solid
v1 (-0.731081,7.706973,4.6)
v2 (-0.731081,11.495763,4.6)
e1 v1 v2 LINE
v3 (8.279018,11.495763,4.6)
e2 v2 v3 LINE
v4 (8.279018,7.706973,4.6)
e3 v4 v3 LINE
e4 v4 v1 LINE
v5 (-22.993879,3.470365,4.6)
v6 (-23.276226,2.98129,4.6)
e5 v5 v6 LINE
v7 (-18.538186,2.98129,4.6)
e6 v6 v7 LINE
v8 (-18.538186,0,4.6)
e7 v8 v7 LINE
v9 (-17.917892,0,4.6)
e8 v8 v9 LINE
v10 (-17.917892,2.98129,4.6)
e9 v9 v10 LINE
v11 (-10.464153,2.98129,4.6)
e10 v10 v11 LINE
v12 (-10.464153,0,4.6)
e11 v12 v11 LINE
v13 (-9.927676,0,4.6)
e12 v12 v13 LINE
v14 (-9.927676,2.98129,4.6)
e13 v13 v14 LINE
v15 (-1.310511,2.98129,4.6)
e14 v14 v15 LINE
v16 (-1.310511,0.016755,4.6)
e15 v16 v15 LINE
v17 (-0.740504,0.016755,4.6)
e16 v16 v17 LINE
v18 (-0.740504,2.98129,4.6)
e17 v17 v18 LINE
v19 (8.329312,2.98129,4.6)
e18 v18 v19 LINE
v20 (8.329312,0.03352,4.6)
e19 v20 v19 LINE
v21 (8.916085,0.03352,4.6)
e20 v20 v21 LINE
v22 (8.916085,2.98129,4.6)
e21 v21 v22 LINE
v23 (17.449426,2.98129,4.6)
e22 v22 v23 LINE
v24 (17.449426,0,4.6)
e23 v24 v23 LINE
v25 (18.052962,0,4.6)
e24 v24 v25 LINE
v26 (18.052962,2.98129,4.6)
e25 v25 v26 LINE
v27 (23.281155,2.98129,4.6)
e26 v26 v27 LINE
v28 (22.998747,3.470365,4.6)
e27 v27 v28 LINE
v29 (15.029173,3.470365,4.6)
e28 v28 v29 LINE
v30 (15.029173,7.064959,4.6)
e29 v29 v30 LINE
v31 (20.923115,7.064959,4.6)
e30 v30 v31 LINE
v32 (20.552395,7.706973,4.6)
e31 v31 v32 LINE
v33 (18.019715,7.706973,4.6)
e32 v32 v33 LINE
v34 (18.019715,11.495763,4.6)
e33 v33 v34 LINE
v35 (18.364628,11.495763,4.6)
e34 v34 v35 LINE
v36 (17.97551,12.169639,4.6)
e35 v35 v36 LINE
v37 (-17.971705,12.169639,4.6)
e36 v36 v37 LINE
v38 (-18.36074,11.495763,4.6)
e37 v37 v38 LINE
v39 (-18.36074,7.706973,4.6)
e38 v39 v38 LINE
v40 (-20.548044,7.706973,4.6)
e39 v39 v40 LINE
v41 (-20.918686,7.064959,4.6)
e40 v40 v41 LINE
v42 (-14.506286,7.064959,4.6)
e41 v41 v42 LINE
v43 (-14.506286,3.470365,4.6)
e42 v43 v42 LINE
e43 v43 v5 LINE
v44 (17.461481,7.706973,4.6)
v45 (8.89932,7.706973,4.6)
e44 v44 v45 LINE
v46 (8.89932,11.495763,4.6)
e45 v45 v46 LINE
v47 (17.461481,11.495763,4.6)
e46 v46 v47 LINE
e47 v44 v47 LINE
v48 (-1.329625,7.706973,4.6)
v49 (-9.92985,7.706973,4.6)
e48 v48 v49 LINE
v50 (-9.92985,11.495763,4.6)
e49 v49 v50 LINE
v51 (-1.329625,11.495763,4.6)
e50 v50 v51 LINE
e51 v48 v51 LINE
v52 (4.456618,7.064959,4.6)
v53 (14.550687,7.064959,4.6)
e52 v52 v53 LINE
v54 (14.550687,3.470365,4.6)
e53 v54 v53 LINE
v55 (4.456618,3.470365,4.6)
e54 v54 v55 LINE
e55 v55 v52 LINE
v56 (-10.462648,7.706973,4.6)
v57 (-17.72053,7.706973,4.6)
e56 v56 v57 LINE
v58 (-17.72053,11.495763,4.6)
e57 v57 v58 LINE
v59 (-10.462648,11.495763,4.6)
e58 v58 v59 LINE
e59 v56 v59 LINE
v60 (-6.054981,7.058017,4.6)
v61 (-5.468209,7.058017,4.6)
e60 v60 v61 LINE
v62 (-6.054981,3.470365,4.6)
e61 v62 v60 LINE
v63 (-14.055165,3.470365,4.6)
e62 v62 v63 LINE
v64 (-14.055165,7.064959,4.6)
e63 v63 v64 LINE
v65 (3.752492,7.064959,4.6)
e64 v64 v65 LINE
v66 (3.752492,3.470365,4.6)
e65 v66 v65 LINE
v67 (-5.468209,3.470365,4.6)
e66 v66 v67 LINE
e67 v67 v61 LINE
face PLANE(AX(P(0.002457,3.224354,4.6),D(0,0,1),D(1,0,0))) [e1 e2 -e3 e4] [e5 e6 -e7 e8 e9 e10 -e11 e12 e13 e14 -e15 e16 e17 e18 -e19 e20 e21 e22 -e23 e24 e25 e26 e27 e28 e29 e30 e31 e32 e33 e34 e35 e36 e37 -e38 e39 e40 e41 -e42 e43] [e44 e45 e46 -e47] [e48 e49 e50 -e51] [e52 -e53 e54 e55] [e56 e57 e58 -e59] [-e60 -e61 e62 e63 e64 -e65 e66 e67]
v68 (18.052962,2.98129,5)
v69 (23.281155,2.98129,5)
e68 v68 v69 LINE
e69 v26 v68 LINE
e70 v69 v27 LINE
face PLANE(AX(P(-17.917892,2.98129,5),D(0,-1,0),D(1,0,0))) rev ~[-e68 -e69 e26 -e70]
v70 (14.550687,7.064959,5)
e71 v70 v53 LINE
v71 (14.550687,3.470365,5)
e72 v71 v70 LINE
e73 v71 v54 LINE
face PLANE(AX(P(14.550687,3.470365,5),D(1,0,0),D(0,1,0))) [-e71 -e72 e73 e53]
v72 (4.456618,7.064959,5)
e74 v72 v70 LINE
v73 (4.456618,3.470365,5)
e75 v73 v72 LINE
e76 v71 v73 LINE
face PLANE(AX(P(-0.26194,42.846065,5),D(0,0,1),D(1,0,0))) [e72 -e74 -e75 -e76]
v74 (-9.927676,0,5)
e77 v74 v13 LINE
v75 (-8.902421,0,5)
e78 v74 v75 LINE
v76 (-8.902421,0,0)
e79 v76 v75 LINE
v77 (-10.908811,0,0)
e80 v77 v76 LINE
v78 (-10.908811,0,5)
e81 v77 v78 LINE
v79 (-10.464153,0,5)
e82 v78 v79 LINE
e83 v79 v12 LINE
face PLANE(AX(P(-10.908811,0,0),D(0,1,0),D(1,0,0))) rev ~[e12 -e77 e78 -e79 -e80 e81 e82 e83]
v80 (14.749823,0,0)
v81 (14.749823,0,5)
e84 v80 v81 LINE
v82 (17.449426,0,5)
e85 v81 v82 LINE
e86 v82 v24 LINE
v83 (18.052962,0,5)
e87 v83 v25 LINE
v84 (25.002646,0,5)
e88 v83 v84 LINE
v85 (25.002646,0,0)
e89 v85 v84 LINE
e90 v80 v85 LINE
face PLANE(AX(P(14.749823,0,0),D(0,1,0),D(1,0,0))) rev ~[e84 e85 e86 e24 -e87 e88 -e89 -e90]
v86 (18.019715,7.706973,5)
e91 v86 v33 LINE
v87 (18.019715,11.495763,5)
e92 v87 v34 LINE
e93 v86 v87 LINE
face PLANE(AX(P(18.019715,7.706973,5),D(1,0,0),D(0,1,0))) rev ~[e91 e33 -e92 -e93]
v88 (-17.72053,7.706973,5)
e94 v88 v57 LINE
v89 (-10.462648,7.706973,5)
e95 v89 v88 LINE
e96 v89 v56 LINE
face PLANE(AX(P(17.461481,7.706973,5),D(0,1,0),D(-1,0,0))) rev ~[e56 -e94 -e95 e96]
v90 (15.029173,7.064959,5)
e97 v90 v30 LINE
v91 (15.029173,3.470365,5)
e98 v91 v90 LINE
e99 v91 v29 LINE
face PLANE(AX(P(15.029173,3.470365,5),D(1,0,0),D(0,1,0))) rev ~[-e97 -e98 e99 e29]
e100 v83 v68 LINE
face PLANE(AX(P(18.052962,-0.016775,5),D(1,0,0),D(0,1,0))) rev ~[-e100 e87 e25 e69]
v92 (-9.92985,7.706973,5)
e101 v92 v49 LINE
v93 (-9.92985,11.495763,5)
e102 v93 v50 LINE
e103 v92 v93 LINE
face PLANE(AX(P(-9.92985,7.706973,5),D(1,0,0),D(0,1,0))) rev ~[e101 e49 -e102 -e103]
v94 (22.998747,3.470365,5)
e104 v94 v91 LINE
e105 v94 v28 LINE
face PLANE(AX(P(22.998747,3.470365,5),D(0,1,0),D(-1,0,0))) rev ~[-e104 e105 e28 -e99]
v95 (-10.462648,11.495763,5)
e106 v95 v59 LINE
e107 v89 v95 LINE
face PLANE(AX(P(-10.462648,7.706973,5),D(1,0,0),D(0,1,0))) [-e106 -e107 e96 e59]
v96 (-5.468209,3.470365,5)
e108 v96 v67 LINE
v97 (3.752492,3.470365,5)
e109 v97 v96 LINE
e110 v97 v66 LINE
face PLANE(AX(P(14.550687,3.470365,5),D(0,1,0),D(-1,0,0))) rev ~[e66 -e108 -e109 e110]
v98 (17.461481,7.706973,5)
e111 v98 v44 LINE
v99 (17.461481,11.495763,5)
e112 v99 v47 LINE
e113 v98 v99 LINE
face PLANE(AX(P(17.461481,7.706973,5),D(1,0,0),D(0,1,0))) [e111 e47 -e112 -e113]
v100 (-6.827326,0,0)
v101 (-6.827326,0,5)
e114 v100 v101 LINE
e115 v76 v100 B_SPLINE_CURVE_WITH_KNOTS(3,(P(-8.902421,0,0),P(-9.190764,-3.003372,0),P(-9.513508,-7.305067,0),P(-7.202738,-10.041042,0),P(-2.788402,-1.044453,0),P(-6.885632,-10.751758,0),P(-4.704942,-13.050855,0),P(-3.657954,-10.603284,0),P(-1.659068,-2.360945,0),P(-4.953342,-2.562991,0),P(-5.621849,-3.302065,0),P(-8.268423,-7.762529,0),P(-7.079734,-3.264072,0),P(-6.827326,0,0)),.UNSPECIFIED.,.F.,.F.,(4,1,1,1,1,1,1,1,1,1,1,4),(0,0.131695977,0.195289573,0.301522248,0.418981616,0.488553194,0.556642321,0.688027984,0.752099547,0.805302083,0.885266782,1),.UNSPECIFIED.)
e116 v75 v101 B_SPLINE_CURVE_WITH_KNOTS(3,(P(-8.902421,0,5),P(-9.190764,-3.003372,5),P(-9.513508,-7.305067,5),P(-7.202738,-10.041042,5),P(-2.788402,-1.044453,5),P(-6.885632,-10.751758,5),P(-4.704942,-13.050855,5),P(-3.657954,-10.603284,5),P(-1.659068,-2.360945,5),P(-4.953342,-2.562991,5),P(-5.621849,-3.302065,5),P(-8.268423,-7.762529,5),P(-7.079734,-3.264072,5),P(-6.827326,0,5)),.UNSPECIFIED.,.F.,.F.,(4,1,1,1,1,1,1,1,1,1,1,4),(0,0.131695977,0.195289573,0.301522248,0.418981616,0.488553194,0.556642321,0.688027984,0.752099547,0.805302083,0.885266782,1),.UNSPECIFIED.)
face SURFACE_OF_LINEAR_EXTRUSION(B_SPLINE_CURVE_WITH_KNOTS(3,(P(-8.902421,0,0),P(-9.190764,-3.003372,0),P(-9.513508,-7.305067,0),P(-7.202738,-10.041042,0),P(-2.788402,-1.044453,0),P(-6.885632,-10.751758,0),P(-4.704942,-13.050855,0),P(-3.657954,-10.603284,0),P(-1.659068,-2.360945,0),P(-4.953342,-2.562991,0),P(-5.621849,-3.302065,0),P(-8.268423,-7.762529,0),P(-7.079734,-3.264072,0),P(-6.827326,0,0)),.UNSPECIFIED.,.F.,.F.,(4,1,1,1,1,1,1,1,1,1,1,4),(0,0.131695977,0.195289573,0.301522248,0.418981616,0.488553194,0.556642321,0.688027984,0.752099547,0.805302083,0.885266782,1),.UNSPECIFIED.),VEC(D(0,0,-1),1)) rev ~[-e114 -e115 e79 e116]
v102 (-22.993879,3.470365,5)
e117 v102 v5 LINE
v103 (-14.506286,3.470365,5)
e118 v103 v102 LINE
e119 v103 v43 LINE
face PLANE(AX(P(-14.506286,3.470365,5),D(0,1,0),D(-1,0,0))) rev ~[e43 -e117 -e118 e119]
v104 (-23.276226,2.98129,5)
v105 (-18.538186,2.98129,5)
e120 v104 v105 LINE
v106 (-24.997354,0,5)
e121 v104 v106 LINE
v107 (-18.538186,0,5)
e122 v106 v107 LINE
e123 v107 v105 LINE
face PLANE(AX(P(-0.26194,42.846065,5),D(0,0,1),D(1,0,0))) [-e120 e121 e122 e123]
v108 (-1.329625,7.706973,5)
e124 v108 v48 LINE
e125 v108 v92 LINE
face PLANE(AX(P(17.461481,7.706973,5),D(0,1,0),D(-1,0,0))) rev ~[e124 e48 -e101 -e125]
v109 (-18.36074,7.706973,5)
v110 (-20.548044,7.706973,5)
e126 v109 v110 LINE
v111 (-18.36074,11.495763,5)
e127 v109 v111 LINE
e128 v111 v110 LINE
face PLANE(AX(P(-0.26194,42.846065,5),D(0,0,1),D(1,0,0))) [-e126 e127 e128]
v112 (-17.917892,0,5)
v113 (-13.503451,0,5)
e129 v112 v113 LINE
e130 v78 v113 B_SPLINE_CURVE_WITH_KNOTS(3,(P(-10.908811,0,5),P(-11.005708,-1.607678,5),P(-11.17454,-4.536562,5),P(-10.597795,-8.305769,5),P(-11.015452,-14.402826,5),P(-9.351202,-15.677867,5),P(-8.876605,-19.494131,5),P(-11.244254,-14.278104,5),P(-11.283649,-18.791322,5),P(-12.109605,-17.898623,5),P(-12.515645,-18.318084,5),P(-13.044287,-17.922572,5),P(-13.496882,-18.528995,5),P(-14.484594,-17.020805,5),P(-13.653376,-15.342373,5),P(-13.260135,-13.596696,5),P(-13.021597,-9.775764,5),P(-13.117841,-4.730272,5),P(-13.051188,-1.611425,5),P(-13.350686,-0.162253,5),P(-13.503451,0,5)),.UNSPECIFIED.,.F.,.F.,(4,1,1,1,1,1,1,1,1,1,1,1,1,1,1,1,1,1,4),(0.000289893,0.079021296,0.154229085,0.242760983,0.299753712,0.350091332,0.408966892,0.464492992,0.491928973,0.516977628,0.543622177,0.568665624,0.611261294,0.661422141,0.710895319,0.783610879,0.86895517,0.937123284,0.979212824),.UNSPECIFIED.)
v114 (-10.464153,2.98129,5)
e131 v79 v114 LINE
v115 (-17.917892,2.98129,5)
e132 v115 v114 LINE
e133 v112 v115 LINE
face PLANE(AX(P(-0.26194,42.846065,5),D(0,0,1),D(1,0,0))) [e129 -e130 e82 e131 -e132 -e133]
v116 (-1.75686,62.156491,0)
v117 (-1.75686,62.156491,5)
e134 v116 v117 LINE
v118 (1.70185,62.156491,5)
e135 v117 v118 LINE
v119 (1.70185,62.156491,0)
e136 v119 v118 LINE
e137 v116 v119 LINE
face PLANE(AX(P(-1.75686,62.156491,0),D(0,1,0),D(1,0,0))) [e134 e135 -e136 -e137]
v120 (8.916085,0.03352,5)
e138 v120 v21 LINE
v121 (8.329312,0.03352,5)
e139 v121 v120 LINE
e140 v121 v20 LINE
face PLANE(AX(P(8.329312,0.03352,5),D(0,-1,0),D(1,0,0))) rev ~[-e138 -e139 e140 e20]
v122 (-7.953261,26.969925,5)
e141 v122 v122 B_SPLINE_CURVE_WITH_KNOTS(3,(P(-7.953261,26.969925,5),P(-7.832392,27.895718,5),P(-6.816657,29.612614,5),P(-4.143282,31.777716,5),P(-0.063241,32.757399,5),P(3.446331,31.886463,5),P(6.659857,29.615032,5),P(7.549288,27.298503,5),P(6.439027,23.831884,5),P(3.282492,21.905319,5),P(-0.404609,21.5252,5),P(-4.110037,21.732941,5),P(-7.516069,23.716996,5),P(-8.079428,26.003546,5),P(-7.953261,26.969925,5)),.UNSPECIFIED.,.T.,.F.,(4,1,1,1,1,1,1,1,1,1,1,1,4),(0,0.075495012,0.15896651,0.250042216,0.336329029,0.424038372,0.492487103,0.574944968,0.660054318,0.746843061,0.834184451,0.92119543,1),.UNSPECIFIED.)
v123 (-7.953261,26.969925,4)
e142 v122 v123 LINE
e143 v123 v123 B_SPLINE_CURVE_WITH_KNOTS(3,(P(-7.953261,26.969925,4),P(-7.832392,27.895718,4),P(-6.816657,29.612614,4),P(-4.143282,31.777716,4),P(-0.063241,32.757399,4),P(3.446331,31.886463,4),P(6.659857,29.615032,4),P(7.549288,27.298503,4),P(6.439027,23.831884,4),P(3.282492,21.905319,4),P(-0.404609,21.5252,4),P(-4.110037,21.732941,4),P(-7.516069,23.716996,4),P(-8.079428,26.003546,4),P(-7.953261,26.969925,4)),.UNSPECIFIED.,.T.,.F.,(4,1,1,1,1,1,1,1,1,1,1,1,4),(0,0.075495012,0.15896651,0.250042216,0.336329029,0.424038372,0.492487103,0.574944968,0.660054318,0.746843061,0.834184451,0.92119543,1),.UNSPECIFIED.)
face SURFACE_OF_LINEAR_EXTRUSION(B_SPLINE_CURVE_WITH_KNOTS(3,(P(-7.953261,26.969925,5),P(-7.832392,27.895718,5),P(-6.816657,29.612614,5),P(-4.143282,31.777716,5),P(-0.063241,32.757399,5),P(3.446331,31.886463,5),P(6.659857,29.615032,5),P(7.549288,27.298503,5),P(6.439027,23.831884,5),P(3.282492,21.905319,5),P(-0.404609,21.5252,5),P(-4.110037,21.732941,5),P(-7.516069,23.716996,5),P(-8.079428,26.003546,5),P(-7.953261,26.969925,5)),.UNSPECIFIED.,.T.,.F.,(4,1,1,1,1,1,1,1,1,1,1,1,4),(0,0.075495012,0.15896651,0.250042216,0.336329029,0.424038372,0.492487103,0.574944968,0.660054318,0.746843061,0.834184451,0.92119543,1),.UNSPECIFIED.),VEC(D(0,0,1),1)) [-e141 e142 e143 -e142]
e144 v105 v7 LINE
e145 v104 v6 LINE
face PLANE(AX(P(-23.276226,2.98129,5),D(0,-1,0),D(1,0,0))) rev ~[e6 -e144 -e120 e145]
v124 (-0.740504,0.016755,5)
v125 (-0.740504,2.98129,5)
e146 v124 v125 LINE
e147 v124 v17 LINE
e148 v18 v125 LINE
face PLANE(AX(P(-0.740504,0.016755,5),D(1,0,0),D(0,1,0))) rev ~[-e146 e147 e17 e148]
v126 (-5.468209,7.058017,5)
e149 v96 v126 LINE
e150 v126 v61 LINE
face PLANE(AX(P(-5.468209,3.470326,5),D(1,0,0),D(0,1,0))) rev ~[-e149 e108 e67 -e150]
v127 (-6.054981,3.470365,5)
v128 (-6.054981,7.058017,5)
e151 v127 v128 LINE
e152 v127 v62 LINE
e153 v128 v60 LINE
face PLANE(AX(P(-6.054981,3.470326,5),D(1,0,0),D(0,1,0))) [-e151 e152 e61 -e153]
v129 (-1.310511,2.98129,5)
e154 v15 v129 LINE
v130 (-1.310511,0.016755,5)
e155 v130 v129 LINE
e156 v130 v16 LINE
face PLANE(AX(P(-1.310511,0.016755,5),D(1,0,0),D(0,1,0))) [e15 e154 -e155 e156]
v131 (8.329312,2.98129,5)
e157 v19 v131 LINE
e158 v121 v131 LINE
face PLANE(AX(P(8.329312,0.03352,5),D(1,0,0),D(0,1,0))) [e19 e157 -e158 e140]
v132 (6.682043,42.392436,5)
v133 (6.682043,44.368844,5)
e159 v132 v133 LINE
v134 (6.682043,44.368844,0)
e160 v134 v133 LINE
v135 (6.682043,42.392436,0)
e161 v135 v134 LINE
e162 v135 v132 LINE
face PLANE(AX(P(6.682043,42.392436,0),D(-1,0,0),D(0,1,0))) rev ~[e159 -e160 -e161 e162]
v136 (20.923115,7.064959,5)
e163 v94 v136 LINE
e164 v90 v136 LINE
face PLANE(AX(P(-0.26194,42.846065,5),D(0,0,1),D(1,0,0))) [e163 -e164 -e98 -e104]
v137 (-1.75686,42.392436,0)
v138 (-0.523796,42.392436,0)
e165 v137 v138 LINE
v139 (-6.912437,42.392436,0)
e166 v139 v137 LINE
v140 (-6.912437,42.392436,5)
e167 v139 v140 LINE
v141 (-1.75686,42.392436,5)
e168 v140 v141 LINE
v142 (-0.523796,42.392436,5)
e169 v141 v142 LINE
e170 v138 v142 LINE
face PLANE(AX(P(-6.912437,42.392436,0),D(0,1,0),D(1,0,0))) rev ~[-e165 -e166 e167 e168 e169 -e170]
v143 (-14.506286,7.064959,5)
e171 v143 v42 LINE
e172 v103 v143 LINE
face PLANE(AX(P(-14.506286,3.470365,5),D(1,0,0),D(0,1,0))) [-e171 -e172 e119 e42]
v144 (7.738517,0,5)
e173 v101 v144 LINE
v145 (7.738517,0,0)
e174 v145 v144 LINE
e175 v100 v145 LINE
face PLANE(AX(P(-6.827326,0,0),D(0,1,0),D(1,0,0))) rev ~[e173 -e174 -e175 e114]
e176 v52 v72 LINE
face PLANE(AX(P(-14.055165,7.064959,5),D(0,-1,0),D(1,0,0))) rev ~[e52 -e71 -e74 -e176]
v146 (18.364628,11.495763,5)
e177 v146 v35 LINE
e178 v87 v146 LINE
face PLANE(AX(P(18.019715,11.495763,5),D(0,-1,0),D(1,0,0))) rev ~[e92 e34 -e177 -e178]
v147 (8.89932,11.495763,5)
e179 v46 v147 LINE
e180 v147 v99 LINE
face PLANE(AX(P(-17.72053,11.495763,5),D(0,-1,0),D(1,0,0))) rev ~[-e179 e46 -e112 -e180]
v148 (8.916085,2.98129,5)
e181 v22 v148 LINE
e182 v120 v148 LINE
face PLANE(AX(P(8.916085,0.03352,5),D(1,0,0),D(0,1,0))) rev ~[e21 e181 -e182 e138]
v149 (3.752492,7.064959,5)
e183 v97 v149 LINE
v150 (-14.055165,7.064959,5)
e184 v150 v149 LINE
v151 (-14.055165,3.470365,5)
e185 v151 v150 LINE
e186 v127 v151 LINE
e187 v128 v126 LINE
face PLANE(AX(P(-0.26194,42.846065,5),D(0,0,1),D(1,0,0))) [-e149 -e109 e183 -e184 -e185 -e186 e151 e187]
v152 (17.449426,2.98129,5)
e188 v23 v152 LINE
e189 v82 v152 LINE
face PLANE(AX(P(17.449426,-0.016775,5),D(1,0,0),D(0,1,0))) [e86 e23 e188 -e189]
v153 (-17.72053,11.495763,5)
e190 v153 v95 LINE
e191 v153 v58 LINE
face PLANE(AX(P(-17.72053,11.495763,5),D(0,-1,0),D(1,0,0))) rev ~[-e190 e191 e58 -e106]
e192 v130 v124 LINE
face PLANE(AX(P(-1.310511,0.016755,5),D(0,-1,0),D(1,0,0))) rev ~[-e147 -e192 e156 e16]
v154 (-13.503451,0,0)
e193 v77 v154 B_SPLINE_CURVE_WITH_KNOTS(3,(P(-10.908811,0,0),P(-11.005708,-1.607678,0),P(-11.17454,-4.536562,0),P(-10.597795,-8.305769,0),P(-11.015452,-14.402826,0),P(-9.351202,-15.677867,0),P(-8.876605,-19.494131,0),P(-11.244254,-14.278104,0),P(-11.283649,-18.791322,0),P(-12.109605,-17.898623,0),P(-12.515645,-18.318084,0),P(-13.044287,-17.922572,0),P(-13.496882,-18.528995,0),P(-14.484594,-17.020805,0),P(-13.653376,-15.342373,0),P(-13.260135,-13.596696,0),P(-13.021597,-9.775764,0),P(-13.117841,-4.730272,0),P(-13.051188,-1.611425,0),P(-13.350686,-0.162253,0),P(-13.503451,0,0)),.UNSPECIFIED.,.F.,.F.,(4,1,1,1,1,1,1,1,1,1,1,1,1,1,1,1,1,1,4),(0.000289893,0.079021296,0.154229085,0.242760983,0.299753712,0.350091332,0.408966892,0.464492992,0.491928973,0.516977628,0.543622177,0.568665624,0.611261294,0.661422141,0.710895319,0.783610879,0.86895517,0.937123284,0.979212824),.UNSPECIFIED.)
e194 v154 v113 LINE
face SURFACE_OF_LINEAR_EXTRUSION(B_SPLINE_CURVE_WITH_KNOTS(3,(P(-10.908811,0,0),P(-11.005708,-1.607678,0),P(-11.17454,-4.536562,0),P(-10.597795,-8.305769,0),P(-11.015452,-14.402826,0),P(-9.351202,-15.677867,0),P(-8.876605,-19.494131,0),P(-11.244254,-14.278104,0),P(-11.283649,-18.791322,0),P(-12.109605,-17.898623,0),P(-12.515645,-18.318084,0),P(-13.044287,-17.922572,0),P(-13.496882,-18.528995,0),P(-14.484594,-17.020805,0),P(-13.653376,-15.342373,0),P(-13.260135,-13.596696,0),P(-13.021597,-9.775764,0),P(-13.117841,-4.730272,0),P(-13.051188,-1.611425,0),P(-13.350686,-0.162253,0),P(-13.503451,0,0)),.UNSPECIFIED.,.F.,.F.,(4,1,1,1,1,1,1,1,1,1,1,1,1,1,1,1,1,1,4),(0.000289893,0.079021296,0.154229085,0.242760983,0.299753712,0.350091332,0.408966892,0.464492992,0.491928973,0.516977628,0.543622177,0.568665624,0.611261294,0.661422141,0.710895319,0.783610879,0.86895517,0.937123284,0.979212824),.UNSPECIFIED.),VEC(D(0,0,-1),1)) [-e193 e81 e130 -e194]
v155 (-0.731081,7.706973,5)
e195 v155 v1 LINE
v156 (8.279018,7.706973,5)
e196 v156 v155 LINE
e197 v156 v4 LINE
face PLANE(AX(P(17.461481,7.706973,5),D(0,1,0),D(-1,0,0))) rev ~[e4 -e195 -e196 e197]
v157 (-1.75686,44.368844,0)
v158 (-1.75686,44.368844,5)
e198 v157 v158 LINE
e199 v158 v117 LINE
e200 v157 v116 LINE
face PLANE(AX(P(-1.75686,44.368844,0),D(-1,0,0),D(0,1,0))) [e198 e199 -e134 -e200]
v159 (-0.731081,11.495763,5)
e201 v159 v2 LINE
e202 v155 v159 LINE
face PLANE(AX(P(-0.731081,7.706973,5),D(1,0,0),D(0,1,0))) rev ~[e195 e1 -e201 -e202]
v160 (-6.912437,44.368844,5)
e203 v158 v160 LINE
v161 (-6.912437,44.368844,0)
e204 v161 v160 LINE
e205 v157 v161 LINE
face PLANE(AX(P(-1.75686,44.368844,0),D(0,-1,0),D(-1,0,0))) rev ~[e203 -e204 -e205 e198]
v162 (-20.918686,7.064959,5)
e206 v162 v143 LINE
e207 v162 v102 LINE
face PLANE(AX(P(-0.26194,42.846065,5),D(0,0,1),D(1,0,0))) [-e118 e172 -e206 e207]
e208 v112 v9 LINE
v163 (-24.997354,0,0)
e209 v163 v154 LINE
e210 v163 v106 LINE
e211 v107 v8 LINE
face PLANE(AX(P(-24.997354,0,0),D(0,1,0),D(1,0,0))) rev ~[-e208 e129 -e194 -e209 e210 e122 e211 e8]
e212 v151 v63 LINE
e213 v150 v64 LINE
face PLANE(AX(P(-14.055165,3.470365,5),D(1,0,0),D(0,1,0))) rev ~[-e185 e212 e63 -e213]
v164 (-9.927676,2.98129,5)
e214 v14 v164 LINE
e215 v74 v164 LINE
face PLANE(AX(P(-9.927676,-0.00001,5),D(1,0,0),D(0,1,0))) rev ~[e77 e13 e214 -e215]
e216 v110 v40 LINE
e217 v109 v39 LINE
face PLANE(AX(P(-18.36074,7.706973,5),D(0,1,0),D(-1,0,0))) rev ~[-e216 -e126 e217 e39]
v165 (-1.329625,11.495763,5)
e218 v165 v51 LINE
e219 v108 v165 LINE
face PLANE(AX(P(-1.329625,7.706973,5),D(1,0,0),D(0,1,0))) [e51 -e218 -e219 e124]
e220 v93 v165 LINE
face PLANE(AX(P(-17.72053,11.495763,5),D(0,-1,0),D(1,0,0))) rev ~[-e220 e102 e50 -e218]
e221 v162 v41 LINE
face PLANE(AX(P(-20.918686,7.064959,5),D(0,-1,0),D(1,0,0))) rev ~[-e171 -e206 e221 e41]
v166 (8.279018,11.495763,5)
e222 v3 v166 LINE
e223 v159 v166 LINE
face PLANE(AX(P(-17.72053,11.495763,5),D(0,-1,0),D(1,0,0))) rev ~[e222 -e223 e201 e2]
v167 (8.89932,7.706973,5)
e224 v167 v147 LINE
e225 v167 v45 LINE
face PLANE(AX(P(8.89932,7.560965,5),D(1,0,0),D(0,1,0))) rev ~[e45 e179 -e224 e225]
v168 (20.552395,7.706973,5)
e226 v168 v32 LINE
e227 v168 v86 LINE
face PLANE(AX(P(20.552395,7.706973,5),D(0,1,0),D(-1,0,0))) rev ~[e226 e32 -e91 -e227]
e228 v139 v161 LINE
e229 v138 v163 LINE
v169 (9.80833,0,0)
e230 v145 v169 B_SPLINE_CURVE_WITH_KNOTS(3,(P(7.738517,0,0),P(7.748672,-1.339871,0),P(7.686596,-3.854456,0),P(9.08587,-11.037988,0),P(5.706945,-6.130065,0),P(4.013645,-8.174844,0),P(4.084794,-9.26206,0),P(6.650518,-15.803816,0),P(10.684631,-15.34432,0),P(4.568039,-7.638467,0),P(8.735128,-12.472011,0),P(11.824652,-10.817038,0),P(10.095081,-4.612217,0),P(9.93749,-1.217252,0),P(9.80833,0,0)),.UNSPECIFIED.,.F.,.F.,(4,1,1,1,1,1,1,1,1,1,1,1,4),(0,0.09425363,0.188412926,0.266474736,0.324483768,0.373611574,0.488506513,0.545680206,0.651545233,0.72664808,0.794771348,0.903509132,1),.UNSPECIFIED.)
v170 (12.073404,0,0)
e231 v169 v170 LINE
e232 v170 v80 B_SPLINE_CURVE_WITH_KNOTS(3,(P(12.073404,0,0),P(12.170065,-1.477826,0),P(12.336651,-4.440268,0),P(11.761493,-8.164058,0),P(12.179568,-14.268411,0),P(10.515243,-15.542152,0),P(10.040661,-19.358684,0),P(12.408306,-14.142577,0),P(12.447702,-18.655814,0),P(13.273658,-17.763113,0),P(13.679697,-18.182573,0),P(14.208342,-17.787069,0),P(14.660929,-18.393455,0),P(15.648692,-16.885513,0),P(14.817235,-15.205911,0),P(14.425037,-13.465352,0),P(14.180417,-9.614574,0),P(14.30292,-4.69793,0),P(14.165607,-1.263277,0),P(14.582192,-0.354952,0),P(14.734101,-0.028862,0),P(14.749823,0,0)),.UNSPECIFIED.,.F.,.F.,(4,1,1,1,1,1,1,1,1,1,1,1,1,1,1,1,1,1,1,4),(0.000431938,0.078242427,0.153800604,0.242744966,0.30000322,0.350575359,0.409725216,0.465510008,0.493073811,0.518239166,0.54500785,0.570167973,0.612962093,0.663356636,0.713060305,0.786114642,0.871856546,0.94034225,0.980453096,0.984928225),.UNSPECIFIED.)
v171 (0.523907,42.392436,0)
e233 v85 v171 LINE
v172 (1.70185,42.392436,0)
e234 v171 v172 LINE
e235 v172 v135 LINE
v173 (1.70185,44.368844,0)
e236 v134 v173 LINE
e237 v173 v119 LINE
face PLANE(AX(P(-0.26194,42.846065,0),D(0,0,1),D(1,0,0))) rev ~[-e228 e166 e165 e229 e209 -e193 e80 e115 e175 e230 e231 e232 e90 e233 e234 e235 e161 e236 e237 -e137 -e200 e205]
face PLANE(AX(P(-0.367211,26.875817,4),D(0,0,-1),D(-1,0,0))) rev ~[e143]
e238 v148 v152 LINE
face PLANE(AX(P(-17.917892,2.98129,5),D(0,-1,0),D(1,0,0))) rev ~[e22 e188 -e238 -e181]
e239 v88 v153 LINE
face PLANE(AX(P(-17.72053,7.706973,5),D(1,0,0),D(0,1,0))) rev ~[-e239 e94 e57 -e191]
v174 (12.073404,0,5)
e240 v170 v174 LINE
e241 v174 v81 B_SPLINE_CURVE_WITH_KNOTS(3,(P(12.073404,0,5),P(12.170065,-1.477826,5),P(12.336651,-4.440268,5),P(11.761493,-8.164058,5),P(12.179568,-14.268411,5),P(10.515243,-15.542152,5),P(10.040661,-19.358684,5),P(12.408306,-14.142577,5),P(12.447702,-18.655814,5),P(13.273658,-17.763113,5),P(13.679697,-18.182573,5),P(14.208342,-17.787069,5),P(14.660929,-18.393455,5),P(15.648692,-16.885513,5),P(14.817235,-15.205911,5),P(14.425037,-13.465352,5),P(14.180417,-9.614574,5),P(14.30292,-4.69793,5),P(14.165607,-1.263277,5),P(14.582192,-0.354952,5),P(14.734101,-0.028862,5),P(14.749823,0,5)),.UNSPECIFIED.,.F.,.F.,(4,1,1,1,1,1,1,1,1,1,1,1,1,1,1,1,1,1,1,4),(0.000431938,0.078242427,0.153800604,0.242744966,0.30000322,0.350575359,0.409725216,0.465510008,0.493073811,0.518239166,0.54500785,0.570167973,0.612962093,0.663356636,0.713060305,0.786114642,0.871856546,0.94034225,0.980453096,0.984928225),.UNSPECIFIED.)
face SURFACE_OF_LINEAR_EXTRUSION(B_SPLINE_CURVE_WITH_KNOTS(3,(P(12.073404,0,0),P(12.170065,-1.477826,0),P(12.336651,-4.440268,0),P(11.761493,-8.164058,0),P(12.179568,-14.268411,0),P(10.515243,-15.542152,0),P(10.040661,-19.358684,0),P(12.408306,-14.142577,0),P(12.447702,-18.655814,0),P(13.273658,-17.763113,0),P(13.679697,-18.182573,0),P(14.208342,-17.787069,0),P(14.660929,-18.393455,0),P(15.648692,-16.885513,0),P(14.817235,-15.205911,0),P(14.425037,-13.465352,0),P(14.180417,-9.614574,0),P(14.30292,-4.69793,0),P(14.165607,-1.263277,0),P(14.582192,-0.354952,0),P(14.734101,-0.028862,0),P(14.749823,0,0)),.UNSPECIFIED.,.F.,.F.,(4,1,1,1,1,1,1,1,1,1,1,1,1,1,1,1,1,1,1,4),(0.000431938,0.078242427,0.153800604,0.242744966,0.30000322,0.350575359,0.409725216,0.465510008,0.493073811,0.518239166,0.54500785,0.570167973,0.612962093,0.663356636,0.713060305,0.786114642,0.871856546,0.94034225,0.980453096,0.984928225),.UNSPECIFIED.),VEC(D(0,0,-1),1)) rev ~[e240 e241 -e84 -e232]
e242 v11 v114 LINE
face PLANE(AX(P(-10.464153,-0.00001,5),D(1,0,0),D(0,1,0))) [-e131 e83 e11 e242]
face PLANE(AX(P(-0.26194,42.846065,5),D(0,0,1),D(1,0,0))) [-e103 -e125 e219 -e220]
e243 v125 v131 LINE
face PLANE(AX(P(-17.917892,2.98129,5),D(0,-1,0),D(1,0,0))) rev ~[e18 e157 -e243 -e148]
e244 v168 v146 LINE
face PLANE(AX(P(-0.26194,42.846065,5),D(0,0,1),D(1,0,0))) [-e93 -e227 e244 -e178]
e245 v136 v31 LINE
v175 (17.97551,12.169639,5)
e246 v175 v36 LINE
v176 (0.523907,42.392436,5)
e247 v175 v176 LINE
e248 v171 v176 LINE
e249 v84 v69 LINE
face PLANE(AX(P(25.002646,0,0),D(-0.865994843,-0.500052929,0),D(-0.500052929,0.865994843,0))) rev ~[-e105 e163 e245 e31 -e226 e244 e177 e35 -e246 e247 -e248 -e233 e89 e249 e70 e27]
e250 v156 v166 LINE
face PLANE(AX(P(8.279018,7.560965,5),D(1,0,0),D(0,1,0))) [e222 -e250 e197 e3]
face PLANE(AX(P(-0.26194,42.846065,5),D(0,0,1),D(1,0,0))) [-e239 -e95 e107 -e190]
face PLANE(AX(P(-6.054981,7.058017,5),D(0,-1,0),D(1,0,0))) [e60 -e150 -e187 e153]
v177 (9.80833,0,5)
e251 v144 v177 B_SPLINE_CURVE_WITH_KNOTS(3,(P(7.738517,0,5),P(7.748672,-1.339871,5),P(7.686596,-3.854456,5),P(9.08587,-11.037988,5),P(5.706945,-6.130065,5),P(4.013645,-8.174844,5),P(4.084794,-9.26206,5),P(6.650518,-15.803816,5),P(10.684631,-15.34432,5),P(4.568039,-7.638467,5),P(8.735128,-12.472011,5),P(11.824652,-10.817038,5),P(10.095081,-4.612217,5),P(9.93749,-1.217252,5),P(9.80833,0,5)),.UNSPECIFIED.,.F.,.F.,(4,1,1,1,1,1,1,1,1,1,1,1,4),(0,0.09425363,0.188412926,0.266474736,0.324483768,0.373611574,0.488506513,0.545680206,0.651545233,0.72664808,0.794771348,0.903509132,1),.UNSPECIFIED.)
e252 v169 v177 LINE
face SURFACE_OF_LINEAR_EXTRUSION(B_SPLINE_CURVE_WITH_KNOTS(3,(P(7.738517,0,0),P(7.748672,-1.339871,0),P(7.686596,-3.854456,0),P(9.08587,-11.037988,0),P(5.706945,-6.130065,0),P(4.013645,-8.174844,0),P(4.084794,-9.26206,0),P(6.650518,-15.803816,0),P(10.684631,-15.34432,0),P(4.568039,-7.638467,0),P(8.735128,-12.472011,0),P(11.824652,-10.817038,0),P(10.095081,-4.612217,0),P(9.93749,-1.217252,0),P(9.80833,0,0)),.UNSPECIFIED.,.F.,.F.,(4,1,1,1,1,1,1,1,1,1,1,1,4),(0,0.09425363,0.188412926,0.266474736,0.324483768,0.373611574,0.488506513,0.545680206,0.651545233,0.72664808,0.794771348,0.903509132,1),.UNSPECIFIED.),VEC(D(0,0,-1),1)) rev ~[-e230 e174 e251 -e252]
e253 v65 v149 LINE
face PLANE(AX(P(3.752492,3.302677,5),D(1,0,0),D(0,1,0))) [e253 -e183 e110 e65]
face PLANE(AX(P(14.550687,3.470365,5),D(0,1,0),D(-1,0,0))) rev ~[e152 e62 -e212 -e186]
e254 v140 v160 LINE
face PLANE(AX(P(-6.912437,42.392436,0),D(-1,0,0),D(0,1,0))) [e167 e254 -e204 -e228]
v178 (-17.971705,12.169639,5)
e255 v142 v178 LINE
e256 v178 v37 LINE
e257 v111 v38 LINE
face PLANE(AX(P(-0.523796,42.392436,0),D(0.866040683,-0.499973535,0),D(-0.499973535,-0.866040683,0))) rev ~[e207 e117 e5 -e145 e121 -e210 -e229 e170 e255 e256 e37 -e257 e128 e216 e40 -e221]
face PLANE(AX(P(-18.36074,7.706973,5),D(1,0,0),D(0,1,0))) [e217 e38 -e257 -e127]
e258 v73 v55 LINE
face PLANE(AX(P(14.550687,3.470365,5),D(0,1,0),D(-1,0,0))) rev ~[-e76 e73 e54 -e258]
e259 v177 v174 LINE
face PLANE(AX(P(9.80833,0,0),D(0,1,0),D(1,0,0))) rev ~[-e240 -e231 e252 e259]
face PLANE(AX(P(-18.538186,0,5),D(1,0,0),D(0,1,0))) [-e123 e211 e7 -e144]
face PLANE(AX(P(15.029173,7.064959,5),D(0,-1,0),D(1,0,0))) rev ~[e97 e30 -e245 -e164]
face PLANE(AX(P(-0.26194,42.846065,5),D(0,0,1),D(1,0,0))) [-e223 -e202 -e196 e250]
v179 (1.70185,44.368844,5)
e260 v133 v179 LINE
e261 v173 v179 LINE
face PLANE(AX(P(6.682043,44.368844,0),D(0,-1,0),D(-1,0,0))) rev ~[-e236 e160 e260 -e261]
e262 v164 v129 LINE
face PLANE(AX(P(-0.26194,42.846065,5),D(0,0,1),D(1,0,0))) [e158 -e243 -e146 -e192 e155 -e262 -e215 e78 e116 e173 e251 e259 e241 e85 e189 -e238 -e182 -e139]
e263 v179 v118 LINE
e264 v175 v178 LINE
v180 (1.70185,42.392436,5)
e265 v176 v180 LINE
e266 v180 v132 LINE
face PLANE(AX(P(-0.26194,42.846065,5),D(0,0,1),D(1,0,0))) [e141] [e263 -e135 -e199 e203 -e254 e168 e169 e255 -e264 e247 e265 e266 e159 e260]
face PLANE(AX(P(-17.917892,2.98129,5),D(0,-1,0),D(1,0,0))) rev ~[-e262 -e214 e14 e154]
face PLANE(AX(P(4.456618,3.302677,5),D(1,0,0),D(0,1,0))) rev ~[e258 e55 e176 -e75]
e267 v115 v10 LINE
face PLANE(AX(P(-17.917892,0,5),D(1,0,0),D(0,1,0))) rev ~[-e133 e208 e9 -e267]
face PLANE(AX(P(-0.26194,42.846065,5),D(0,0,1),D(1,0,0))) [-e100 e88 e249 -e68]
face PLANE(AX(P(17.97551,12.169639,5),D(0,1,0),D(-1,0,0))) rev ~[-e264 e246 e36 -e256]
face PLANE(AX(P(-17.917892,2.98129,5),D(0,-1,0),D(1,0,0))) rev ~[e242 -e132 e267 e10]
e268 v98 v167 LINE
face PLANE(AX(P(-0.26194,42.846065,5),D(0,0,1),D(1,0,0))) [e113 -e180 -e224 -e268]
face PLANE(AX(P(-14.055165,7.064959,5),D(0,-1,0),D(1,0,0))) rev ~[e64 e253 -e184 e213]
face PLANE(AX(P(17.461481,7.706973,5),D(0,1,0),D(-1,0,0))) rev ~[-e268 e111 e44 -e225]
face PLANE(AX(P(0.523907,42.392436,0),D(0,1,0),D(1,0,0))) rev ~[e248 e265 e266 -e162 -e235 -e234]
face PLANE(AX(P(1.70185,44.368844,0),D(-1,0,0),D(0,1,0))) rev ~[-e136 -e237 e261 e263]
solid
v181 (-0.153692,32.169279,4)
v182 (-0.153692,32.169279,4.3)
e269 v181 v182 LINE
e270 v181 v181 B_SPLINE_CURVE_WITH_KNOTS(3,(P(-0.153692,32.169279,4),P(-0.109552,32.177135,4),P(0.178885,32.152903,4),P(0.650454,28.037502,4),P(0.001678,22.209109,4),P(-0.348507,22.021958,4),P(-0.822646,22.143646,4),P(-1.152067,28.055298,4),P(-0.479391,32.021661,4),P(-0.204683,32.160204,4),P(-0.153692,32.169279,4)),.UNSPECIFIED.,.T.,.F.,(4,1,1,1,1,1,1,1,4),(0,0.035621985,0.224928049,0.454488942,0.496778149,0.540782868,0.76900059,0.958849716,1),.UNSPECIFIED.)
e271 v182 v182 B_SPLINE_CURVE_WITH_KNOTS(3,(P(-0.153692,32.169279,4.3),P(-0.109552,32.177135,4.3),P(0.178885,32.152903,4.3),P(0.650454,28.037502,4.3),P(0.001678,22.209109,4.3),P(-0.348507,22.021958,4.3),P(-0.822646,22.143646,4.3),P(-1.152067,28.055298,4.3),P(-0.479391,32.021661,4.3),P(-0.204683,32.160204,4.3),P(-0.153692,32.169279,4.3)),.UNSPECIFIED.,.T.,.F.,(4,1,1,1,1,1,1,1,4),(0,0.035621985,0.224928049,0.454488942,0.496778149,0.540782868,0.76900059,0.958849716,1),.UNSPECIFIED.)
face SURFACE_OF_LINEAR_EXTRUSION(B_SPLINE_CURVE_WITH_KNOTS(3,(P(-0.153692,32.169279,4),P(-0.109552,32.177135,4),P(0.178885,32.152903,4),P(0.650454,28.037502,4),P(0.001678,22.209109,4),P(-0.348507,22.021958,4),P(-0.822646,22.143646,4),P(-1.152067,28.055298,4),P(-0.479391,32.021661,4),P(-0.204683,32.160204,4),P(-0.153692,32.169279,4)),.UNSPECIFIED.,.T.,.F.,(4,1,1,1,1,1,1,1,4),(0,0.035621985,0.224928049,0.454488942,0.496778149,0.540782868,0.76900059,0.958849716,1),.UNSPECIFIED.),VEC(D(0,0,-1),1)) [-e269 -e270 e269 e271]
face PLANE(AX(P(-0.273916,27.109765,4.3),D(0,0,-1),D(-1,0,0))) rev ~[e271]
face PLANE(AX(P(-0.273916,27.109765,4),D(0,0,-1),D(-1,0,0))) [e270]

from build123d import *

# Parameters (mm, degrees)
F0_W     = 5.1555768587
F0_H     = 1.9764080644
F0_W_2   = 4.9801938003
F0_W_3   = 3.4587095724
F0_H_2   = 17.7876465023
F1_DEPTH = 5
F3_DEPTH = 1
F5_DEPTH = 0.3
F6_W     = 0.6202943623
F6_H     = 2.9812904685
F6_W_2   = 0.4511214793
F6_H_2   = 3.5945932627
F6_W_3   = 0.6402105058
F6_H_3   = 3.7887892984
F6_W_4   = 0.4784865305
F6_W_5   = 0.5582347512
F7_DEPTH = 0.4
F8_W     = 0.5327984691
F8_H     = 3.7887892984
F8_W_2   = 0.5985439639
F8_W_3   = 0.5867718719
F8_H_2   = 3.5876911134
F8_W_4   = 0.5364771932
F8_H_3   = 3.0344488973
F8_W_5   = 0.5700066104
F8_H_4   = 3.0009191614
F8_W_6   = 0.5867723376
F8_H_5   = 3.0009190596
F8_W_7   = 0.6035361439
F8_H_6   = 3.0344488368
F8_W_8   = 0.7041264325
F8_H_7   = 3.8559294771
F8_W_9   = 0.6203018129
F8_H_8   = 4.2415224016
F9_DEPTH = 0.4


with BuildPart() as f1:
    # F0 (on Top) → F1 (new body)
    with BuildSketch(Plane.XY):
        Polygon((-0.5237962453, 42.392436415), (0, 43.2997421549), (-0.5239071529, 42.392436415), align=None)
        Polygon((-0.5239071529, 42.392436415), (0, 43.2997421549), (0.5239071529, 42.392436415), (1.7018496292, 42.392436415), (1.7018496292, 44.3688444793), (-1.7568599433, 44.3688444793), (-1.7568599433, 42.392436415), align=None)
        Polygon((0.5239071529, 42.392436415), (0, 43.2997421549), (-0.5237962453, 42.392436415), align=None)
        Polygon((25.0026464462, 0), (0.5239071529, 42.392436415), (-0.5237962453, 42.392436415), (-24.9973535538, 0), (-13.5034514803, 0), (-10.9088107712, 0), (-8.9024212211, 0), (-6.8273255602, 0), (7.7385172022, 0), (9.8083302301, 0), (12.0734038177, 0), (14.7498230277, 0), align=None)
        with Locations((-4.3346483726, 43.3806404471)):
            Rectangle(F0_W, F0_H)
        with Locations((4.1919465293, 43.3806404471)):
            Rectangle(F0_W_2, F0_H)
        with Locations((-0.027505157, 53.2626677305)):
            Rectangle(F0_W_3, F0_H_2)
        with BuildLine():
            add(Edge.make_bspline(
                [(12.0734038177, 0), (12.1700652269, -1.477826255), (12.3366505249, -4.4402676188), (11.7614927275, -8.1640583262), (12.1795675256, -14.2684113404), (10.5152433863, -15.5421516446), (10.0406614974, -19.3586837546), (12.4083061102, -14.1425769065), (12.4477018974, -18.6558139703), (13.2736578918, -17.7631134849), (13.6796971655, -18.1825728083), (14.2083416361, -17.7870688496), (14.6609292387, -18.3934551385), (15.6486915503, -16.8855128183), (14.817234783, -15.2059113737), (14.4250365101, -13.46535209), (14.1804166756, -9.6145735029), (14.3029197368, -4.6979299564), (14.165607463, -1.2632768604), (14.5821918319, -0.3549519845), (14.7341013093, -0.0288623031), (14.7498230277, 0)],
                knots=[0.0004319384, 0.0004319384, 0.0004319384, 0.0004319384, 0.0782424273, 0.153800604, 0.2427449656, 0.3000032199, 0.3505753589, 0.4097252157, 0.4655100081, 0.493073811, 0.518239166, 0.5450078504, 0.5701679733, 0.6129620927, 0.6633566361, 0.7130603053, 0.7861146423, 0.8718565462, 0.9403422504, 0.9804530964, 0.9849282254, 0.9849282254, 0.9849282254, 0.9849282254], degree=3))
            Line((14.7498230277, 0), (12.0734038177, 0))
        make_face()
        with BuildLine():
            Line((-10.9088107712, 0), (-13.5034514803, 0))
            add(Edge.make_bspline(
                [(-10.9088107712, 0), (-11.0057075196, -1.6076779232), (-11.1745404211, -4.536562176), (-10.5977952902, -8.3057694955), (-11.0154517537, -14.4028255245), (-9.3512022225, -15.6778672361), (-8.8766049723, -19.4941313226), (-11.2442541145, -14.2781038128), (-11.2836488855, -18.7913221382), (-12.10960486, -17.8986232734), (-12.5156445522, -18.3180843348), (-13.0442873295, -17.922572153), (-13.4968823807, -18.5289949649), (-14.4845941721, -17.0208047683), (-13.6533758342, -15.3423732197), (-13.2601345759, -13.5966963269), (-13.0215974359, -9.7757636652), (-13.1178407814, -4.7302717046), (-13.0511875796, -1.6114246319), (-13.3506863225, -0.1622526976), (-13.5034514803, 0)],
                knots=[0.0002898926, 0.0002898926, 0.0002898926, 0.0002898926, 0.0790212957, 0.1542290848, 0.2427609827, 0.299753712, 0.3500913317, 0.4089668916, 0.4644929919, 0.4919289726, 0.5169776277, 0.5436221771, 0.5686656244, 0.6112612937, 0.6614221413, 0.7108953186, 0.7836108791, 0.8689551702, 0.937123284, 0.9792128244, 0.9792128244, 0.9792128244, 0.9792128244], degree=3))
        make_face()
        with BuildLine():
            add(Edge.make_bspline(
                [(7.7385172022, 0), (7.7486716886, -1.3398712462), (7.6865955293, -3.8544560709), (9.0858695098, -11.0379879346), (5.7069449364, -6.1300650339), (4.0136453382, -8.1748440604), (4.0847936301, -9.2620602996), (6.6505176586, -15.8038164307), (10.6846310882, -15.3443197035), (4.5680391502, -7.6384667145), (8.7351283912, -12.4720105519), (11.8246521156, -10.8170377409), (10.0950807766, -4.6122172742), (9.937490037, -1.2172522744), (9.8083302301, 0)],
                knots=[0, 0, 0, 0, 0.0942536296, 0.1884129262, 0.2664747356, 0.3244837685, 0.3736115745, 0.4885065129, 0.545680206, 0.6515452333, 0.72664808, 0.7947713482, 0.9035091315, 1, 1, 1, 1], degree=3))
            Line((9.8083302301, 0), (7.7385172022, 0))
        make_face()
        with BuildLine():
            Line((-6.8273255602, 0), (-8.9024212211, 0))
            add(Edge.make_bspline(
                [(-8.9024212211, 0), (-9.1907642785, -3.0033720609), (-9.5135077937, -7.3050672033), (-7.2027376886, -10.0410421761), (-2.7884020038, -1.0444534524), (-6.885632451, -10.7517584556), (-4.7049415835, -13.0508549855), (-3.6579539996, -10.6032838109), (-1.6590676451, -2.3609450623), (-4.9533419054, -2.562990685), (-5.6218491735, -3.3020651782), (-8.2684232058, -7.7625287315), (-7.0797335951, -3.2640721874), (-6.8273255602, 0)],
                knots=[0, 0, 0, 0, 0.1316959772, 0.1952895732, 0.3015222484, 0.4189816161, 0.488553194, 0.5566423207, 0.6880279836, 0.752099547, 0.8053020826, 0.8852667817, 1, 1, 1, 1], degree=3))
        make_face()
    extrude(amount=F1_DEPTH)

    # F2 (on face) → F3 (cut)
    with BuildSketch(Plane.XY.offset(5)):
        with BuildLine():
            add(Edge.make_bspline(
                [(-7.9532610252, 26.9699245691), (-7.8323923244, 27.8957184535), (-6.8166573395, 29.6126143534), (-4.1432819529, 31.77771641), (-0.0632411183, 32.7573994407), (3.446330671, 31.8864626716), (6.6598570974, 29.6150317806), (7.5492875013, 27.2985029154), (6.4390274003, 23.8318835876), (3.282491896, 21.9053190537), (-0.4046085708, 21.5251999201), (-4.110036634, 21.732940582), (-7.5160687452, 23.7169960292), (-8.0794283796, 26.0035456449), (-7.9532610252, 26.9699245691)],
                knots=[0, 0, 0, 0, 0.0754950122, 0.15896651, 0.2500422161, 0.3363290294, 0.4240383722, 0.4924871028, 0.5749449679, 0.6600543184, 0.7468430609, 0.8341844508, 0.9211954303, 1, 1, 1, 1], degree=3))
        make_face()
    extrude(amount=-F3_DEPTH, mode=Mode.SUBTRACT)

    # F6 (on face) → F7 (cut)
    with BuildSketch(Plane.XY.offset(5)):
        Polygon((-22.9938786092, 3.470365306), (-23.276226171, 2.9812904685), (-18.5381863266, 2.9812904685), (-17.9178919643, 2.9812904685), (-10.4461899027, 2.9812904685), (-9.9056159966, 2.9812904685), (-1.3191275066, 2.9812904685), (-0.7608930464, 2.9812904685), (8.3303563297, 2.9812904685), (8.8885920122, 2.9812904685), (17.4614805728, 2.9812904685), (18.019715324, 2.9812904685), (23.2811546352, 2.9812904685), (22.9987472896, 3.470365306), (15.0291733444, 3.470365306), (14.5506868139, 3.470365306), (4.4625885785, 3.470365306), (3.7371646613, 3.470365306), (-5.4556559771, 3.470365306), (-6.0477536172, 3.470365306), (-14.0551645309, 3.470365306), (-14.5062860101, 3.470365306), align=None)
        with Locations((-18.2280391455, 1.4906452343)):
            Rectangle(F6_W, F6_H)
        with Locations((-14.2807252705, 5.2676619373)):
            Rectangle(F6_W_2, F6_H_2)
        Polygon((-20.918685682, 7.0649585687), (-14.5062860101, 7.0649585687), (-14.0551645309, 7.0649585687), (-6.0477536172, 7.0649585687), (-5.4556559771, 7.0649585687), (3.7371646613, 7.0649585687), (4.4625885785, 7.0649585687), (14.5506868139, 7.0649585687), (15.0291733444, 7.0649585687), (20.923114965, 7.0649585687), (20.5523952678, 7.7069732983), (18.019715324, 7.7069732983), (17.4614805728, 7.7069732983), (8.8885920122, 7.7069732983), (8.3303563297, 7.7069732983), (-0.7608930464, 7.7069732983), (-1.3191275066, 7.7069732983), (-9.9056159966, 7.7069732983), (-10.4461899027, 7.7069732983), (-17.7205298096, 7.7069732983), (-18.3607403154, 7.7069732983), (-20.5480444637, 7.7069732983), align=None)
        with Locations((-18.0406350625, 9.6013679476)):
            Rectangle(F6_W_3, F6_H_3)
        Polygon((-17.9717051929, 12.1696387516), (-18.3607403154, 11.4957625968), (-17.7205298096, 11.4957625968), (-10.4461899027, 11.4957625968), (-9.9056159966, 11.4957625968), (-1.3191275066, 11.4957625968), (-0.7608930464, 11.4957625968), (8.3303563297, 11.4957625968), (8.8885920122, 11.4957625968), (17.4614805728, 11.4957625968), (18.019715324, 11.4957625968), (18.3646279839, 11.4957625968), (17.9755104878, 12.1696387516), align=None)
        with Locations((14.7899300791, 5.2676619373)):
            Rectangle(F6_W_4, F6_H_2)
        with Locations((17.7405979484, 9.6013679476)):
            Rectangle(F6_W_5, F6_H_3)
    extrude(amount=-F7_DEPTH, mode=Mode.SUBTRACT)

    # F8 (on face) → F9 (cut)
    with BuildSketch(Plane.XY.offset(5)):
        with Locations((-10.1962490007, 9.6013679476)):
            Rectangle(F8_W, F8_H)
        with Locations((-1.0303525778, 9.6013679476)):
            Rectangle(F8_W_2, F8_H)
        with Locations((-5.7615952101, 5.2641718648)):
            Rectangle(F8_W_3, F8_H_2)
        with Locations((-10.1959146559, 1.5172142564)):
            Rectangle(F8_W_4, F8_H_3)
        with Locations((-1.0255077214, 1.5172143867)):
            Rectangle(F8_W_5, F8_H_4)
        with Locations((8.6226984859, 1.5339791753)):
            Rectangle(F8_W_6, F8_H_5)
        with Locations((17.7511936054, 1.5004493162)):
            Rectangle(F8_W_7, F8_H_6)
        with Locations((4.1045551188, 5.2306420403)):
            Rectangle(F8_W_8, F8_H_7)
        with Locations((8.5891690105, 9.6817258745)):
            Rectangle(F8_W_9, F8_H_8)
    extrude(amount=-F9_DEPTH, mode=Mode.SUBTRACT)


with BuildPart() as f5:
    # F4 (on face) → F5 (new body)
    with BuildSketch(Plane.XY.offset(4)):
        with BuildLine():
            add(Edge.make_bspline(
                [(-0.1536923519, 32.1692787111), (-0.1095518936, 32.1771346974), (0.178884501, 32.152902573), (0.6504543453, 28.0375019528), (0.0016778454, 22.2091091532), (-0.348507446, 22.0219583753), (-0.8226459209, 22.143646299), (-1.1520672278, 28.0552978302), (-0.4793909326, 32.0216608596), (-0.20468312, 32.1602035272), (-0.1536923519, 32.1692787111)],
                knots=[0, 0, 0, 0, 0.0356219853, 0.2249280493, 0.4544889422, 0.4967781485, 0.5407828675, 0.7690005902, 0.9588497161, 1, 1, 1, 1], degree=3))
        make_face()
    extrude(amount=F5_DEPTH)


solid = Compound([f1.part, f5.part])
